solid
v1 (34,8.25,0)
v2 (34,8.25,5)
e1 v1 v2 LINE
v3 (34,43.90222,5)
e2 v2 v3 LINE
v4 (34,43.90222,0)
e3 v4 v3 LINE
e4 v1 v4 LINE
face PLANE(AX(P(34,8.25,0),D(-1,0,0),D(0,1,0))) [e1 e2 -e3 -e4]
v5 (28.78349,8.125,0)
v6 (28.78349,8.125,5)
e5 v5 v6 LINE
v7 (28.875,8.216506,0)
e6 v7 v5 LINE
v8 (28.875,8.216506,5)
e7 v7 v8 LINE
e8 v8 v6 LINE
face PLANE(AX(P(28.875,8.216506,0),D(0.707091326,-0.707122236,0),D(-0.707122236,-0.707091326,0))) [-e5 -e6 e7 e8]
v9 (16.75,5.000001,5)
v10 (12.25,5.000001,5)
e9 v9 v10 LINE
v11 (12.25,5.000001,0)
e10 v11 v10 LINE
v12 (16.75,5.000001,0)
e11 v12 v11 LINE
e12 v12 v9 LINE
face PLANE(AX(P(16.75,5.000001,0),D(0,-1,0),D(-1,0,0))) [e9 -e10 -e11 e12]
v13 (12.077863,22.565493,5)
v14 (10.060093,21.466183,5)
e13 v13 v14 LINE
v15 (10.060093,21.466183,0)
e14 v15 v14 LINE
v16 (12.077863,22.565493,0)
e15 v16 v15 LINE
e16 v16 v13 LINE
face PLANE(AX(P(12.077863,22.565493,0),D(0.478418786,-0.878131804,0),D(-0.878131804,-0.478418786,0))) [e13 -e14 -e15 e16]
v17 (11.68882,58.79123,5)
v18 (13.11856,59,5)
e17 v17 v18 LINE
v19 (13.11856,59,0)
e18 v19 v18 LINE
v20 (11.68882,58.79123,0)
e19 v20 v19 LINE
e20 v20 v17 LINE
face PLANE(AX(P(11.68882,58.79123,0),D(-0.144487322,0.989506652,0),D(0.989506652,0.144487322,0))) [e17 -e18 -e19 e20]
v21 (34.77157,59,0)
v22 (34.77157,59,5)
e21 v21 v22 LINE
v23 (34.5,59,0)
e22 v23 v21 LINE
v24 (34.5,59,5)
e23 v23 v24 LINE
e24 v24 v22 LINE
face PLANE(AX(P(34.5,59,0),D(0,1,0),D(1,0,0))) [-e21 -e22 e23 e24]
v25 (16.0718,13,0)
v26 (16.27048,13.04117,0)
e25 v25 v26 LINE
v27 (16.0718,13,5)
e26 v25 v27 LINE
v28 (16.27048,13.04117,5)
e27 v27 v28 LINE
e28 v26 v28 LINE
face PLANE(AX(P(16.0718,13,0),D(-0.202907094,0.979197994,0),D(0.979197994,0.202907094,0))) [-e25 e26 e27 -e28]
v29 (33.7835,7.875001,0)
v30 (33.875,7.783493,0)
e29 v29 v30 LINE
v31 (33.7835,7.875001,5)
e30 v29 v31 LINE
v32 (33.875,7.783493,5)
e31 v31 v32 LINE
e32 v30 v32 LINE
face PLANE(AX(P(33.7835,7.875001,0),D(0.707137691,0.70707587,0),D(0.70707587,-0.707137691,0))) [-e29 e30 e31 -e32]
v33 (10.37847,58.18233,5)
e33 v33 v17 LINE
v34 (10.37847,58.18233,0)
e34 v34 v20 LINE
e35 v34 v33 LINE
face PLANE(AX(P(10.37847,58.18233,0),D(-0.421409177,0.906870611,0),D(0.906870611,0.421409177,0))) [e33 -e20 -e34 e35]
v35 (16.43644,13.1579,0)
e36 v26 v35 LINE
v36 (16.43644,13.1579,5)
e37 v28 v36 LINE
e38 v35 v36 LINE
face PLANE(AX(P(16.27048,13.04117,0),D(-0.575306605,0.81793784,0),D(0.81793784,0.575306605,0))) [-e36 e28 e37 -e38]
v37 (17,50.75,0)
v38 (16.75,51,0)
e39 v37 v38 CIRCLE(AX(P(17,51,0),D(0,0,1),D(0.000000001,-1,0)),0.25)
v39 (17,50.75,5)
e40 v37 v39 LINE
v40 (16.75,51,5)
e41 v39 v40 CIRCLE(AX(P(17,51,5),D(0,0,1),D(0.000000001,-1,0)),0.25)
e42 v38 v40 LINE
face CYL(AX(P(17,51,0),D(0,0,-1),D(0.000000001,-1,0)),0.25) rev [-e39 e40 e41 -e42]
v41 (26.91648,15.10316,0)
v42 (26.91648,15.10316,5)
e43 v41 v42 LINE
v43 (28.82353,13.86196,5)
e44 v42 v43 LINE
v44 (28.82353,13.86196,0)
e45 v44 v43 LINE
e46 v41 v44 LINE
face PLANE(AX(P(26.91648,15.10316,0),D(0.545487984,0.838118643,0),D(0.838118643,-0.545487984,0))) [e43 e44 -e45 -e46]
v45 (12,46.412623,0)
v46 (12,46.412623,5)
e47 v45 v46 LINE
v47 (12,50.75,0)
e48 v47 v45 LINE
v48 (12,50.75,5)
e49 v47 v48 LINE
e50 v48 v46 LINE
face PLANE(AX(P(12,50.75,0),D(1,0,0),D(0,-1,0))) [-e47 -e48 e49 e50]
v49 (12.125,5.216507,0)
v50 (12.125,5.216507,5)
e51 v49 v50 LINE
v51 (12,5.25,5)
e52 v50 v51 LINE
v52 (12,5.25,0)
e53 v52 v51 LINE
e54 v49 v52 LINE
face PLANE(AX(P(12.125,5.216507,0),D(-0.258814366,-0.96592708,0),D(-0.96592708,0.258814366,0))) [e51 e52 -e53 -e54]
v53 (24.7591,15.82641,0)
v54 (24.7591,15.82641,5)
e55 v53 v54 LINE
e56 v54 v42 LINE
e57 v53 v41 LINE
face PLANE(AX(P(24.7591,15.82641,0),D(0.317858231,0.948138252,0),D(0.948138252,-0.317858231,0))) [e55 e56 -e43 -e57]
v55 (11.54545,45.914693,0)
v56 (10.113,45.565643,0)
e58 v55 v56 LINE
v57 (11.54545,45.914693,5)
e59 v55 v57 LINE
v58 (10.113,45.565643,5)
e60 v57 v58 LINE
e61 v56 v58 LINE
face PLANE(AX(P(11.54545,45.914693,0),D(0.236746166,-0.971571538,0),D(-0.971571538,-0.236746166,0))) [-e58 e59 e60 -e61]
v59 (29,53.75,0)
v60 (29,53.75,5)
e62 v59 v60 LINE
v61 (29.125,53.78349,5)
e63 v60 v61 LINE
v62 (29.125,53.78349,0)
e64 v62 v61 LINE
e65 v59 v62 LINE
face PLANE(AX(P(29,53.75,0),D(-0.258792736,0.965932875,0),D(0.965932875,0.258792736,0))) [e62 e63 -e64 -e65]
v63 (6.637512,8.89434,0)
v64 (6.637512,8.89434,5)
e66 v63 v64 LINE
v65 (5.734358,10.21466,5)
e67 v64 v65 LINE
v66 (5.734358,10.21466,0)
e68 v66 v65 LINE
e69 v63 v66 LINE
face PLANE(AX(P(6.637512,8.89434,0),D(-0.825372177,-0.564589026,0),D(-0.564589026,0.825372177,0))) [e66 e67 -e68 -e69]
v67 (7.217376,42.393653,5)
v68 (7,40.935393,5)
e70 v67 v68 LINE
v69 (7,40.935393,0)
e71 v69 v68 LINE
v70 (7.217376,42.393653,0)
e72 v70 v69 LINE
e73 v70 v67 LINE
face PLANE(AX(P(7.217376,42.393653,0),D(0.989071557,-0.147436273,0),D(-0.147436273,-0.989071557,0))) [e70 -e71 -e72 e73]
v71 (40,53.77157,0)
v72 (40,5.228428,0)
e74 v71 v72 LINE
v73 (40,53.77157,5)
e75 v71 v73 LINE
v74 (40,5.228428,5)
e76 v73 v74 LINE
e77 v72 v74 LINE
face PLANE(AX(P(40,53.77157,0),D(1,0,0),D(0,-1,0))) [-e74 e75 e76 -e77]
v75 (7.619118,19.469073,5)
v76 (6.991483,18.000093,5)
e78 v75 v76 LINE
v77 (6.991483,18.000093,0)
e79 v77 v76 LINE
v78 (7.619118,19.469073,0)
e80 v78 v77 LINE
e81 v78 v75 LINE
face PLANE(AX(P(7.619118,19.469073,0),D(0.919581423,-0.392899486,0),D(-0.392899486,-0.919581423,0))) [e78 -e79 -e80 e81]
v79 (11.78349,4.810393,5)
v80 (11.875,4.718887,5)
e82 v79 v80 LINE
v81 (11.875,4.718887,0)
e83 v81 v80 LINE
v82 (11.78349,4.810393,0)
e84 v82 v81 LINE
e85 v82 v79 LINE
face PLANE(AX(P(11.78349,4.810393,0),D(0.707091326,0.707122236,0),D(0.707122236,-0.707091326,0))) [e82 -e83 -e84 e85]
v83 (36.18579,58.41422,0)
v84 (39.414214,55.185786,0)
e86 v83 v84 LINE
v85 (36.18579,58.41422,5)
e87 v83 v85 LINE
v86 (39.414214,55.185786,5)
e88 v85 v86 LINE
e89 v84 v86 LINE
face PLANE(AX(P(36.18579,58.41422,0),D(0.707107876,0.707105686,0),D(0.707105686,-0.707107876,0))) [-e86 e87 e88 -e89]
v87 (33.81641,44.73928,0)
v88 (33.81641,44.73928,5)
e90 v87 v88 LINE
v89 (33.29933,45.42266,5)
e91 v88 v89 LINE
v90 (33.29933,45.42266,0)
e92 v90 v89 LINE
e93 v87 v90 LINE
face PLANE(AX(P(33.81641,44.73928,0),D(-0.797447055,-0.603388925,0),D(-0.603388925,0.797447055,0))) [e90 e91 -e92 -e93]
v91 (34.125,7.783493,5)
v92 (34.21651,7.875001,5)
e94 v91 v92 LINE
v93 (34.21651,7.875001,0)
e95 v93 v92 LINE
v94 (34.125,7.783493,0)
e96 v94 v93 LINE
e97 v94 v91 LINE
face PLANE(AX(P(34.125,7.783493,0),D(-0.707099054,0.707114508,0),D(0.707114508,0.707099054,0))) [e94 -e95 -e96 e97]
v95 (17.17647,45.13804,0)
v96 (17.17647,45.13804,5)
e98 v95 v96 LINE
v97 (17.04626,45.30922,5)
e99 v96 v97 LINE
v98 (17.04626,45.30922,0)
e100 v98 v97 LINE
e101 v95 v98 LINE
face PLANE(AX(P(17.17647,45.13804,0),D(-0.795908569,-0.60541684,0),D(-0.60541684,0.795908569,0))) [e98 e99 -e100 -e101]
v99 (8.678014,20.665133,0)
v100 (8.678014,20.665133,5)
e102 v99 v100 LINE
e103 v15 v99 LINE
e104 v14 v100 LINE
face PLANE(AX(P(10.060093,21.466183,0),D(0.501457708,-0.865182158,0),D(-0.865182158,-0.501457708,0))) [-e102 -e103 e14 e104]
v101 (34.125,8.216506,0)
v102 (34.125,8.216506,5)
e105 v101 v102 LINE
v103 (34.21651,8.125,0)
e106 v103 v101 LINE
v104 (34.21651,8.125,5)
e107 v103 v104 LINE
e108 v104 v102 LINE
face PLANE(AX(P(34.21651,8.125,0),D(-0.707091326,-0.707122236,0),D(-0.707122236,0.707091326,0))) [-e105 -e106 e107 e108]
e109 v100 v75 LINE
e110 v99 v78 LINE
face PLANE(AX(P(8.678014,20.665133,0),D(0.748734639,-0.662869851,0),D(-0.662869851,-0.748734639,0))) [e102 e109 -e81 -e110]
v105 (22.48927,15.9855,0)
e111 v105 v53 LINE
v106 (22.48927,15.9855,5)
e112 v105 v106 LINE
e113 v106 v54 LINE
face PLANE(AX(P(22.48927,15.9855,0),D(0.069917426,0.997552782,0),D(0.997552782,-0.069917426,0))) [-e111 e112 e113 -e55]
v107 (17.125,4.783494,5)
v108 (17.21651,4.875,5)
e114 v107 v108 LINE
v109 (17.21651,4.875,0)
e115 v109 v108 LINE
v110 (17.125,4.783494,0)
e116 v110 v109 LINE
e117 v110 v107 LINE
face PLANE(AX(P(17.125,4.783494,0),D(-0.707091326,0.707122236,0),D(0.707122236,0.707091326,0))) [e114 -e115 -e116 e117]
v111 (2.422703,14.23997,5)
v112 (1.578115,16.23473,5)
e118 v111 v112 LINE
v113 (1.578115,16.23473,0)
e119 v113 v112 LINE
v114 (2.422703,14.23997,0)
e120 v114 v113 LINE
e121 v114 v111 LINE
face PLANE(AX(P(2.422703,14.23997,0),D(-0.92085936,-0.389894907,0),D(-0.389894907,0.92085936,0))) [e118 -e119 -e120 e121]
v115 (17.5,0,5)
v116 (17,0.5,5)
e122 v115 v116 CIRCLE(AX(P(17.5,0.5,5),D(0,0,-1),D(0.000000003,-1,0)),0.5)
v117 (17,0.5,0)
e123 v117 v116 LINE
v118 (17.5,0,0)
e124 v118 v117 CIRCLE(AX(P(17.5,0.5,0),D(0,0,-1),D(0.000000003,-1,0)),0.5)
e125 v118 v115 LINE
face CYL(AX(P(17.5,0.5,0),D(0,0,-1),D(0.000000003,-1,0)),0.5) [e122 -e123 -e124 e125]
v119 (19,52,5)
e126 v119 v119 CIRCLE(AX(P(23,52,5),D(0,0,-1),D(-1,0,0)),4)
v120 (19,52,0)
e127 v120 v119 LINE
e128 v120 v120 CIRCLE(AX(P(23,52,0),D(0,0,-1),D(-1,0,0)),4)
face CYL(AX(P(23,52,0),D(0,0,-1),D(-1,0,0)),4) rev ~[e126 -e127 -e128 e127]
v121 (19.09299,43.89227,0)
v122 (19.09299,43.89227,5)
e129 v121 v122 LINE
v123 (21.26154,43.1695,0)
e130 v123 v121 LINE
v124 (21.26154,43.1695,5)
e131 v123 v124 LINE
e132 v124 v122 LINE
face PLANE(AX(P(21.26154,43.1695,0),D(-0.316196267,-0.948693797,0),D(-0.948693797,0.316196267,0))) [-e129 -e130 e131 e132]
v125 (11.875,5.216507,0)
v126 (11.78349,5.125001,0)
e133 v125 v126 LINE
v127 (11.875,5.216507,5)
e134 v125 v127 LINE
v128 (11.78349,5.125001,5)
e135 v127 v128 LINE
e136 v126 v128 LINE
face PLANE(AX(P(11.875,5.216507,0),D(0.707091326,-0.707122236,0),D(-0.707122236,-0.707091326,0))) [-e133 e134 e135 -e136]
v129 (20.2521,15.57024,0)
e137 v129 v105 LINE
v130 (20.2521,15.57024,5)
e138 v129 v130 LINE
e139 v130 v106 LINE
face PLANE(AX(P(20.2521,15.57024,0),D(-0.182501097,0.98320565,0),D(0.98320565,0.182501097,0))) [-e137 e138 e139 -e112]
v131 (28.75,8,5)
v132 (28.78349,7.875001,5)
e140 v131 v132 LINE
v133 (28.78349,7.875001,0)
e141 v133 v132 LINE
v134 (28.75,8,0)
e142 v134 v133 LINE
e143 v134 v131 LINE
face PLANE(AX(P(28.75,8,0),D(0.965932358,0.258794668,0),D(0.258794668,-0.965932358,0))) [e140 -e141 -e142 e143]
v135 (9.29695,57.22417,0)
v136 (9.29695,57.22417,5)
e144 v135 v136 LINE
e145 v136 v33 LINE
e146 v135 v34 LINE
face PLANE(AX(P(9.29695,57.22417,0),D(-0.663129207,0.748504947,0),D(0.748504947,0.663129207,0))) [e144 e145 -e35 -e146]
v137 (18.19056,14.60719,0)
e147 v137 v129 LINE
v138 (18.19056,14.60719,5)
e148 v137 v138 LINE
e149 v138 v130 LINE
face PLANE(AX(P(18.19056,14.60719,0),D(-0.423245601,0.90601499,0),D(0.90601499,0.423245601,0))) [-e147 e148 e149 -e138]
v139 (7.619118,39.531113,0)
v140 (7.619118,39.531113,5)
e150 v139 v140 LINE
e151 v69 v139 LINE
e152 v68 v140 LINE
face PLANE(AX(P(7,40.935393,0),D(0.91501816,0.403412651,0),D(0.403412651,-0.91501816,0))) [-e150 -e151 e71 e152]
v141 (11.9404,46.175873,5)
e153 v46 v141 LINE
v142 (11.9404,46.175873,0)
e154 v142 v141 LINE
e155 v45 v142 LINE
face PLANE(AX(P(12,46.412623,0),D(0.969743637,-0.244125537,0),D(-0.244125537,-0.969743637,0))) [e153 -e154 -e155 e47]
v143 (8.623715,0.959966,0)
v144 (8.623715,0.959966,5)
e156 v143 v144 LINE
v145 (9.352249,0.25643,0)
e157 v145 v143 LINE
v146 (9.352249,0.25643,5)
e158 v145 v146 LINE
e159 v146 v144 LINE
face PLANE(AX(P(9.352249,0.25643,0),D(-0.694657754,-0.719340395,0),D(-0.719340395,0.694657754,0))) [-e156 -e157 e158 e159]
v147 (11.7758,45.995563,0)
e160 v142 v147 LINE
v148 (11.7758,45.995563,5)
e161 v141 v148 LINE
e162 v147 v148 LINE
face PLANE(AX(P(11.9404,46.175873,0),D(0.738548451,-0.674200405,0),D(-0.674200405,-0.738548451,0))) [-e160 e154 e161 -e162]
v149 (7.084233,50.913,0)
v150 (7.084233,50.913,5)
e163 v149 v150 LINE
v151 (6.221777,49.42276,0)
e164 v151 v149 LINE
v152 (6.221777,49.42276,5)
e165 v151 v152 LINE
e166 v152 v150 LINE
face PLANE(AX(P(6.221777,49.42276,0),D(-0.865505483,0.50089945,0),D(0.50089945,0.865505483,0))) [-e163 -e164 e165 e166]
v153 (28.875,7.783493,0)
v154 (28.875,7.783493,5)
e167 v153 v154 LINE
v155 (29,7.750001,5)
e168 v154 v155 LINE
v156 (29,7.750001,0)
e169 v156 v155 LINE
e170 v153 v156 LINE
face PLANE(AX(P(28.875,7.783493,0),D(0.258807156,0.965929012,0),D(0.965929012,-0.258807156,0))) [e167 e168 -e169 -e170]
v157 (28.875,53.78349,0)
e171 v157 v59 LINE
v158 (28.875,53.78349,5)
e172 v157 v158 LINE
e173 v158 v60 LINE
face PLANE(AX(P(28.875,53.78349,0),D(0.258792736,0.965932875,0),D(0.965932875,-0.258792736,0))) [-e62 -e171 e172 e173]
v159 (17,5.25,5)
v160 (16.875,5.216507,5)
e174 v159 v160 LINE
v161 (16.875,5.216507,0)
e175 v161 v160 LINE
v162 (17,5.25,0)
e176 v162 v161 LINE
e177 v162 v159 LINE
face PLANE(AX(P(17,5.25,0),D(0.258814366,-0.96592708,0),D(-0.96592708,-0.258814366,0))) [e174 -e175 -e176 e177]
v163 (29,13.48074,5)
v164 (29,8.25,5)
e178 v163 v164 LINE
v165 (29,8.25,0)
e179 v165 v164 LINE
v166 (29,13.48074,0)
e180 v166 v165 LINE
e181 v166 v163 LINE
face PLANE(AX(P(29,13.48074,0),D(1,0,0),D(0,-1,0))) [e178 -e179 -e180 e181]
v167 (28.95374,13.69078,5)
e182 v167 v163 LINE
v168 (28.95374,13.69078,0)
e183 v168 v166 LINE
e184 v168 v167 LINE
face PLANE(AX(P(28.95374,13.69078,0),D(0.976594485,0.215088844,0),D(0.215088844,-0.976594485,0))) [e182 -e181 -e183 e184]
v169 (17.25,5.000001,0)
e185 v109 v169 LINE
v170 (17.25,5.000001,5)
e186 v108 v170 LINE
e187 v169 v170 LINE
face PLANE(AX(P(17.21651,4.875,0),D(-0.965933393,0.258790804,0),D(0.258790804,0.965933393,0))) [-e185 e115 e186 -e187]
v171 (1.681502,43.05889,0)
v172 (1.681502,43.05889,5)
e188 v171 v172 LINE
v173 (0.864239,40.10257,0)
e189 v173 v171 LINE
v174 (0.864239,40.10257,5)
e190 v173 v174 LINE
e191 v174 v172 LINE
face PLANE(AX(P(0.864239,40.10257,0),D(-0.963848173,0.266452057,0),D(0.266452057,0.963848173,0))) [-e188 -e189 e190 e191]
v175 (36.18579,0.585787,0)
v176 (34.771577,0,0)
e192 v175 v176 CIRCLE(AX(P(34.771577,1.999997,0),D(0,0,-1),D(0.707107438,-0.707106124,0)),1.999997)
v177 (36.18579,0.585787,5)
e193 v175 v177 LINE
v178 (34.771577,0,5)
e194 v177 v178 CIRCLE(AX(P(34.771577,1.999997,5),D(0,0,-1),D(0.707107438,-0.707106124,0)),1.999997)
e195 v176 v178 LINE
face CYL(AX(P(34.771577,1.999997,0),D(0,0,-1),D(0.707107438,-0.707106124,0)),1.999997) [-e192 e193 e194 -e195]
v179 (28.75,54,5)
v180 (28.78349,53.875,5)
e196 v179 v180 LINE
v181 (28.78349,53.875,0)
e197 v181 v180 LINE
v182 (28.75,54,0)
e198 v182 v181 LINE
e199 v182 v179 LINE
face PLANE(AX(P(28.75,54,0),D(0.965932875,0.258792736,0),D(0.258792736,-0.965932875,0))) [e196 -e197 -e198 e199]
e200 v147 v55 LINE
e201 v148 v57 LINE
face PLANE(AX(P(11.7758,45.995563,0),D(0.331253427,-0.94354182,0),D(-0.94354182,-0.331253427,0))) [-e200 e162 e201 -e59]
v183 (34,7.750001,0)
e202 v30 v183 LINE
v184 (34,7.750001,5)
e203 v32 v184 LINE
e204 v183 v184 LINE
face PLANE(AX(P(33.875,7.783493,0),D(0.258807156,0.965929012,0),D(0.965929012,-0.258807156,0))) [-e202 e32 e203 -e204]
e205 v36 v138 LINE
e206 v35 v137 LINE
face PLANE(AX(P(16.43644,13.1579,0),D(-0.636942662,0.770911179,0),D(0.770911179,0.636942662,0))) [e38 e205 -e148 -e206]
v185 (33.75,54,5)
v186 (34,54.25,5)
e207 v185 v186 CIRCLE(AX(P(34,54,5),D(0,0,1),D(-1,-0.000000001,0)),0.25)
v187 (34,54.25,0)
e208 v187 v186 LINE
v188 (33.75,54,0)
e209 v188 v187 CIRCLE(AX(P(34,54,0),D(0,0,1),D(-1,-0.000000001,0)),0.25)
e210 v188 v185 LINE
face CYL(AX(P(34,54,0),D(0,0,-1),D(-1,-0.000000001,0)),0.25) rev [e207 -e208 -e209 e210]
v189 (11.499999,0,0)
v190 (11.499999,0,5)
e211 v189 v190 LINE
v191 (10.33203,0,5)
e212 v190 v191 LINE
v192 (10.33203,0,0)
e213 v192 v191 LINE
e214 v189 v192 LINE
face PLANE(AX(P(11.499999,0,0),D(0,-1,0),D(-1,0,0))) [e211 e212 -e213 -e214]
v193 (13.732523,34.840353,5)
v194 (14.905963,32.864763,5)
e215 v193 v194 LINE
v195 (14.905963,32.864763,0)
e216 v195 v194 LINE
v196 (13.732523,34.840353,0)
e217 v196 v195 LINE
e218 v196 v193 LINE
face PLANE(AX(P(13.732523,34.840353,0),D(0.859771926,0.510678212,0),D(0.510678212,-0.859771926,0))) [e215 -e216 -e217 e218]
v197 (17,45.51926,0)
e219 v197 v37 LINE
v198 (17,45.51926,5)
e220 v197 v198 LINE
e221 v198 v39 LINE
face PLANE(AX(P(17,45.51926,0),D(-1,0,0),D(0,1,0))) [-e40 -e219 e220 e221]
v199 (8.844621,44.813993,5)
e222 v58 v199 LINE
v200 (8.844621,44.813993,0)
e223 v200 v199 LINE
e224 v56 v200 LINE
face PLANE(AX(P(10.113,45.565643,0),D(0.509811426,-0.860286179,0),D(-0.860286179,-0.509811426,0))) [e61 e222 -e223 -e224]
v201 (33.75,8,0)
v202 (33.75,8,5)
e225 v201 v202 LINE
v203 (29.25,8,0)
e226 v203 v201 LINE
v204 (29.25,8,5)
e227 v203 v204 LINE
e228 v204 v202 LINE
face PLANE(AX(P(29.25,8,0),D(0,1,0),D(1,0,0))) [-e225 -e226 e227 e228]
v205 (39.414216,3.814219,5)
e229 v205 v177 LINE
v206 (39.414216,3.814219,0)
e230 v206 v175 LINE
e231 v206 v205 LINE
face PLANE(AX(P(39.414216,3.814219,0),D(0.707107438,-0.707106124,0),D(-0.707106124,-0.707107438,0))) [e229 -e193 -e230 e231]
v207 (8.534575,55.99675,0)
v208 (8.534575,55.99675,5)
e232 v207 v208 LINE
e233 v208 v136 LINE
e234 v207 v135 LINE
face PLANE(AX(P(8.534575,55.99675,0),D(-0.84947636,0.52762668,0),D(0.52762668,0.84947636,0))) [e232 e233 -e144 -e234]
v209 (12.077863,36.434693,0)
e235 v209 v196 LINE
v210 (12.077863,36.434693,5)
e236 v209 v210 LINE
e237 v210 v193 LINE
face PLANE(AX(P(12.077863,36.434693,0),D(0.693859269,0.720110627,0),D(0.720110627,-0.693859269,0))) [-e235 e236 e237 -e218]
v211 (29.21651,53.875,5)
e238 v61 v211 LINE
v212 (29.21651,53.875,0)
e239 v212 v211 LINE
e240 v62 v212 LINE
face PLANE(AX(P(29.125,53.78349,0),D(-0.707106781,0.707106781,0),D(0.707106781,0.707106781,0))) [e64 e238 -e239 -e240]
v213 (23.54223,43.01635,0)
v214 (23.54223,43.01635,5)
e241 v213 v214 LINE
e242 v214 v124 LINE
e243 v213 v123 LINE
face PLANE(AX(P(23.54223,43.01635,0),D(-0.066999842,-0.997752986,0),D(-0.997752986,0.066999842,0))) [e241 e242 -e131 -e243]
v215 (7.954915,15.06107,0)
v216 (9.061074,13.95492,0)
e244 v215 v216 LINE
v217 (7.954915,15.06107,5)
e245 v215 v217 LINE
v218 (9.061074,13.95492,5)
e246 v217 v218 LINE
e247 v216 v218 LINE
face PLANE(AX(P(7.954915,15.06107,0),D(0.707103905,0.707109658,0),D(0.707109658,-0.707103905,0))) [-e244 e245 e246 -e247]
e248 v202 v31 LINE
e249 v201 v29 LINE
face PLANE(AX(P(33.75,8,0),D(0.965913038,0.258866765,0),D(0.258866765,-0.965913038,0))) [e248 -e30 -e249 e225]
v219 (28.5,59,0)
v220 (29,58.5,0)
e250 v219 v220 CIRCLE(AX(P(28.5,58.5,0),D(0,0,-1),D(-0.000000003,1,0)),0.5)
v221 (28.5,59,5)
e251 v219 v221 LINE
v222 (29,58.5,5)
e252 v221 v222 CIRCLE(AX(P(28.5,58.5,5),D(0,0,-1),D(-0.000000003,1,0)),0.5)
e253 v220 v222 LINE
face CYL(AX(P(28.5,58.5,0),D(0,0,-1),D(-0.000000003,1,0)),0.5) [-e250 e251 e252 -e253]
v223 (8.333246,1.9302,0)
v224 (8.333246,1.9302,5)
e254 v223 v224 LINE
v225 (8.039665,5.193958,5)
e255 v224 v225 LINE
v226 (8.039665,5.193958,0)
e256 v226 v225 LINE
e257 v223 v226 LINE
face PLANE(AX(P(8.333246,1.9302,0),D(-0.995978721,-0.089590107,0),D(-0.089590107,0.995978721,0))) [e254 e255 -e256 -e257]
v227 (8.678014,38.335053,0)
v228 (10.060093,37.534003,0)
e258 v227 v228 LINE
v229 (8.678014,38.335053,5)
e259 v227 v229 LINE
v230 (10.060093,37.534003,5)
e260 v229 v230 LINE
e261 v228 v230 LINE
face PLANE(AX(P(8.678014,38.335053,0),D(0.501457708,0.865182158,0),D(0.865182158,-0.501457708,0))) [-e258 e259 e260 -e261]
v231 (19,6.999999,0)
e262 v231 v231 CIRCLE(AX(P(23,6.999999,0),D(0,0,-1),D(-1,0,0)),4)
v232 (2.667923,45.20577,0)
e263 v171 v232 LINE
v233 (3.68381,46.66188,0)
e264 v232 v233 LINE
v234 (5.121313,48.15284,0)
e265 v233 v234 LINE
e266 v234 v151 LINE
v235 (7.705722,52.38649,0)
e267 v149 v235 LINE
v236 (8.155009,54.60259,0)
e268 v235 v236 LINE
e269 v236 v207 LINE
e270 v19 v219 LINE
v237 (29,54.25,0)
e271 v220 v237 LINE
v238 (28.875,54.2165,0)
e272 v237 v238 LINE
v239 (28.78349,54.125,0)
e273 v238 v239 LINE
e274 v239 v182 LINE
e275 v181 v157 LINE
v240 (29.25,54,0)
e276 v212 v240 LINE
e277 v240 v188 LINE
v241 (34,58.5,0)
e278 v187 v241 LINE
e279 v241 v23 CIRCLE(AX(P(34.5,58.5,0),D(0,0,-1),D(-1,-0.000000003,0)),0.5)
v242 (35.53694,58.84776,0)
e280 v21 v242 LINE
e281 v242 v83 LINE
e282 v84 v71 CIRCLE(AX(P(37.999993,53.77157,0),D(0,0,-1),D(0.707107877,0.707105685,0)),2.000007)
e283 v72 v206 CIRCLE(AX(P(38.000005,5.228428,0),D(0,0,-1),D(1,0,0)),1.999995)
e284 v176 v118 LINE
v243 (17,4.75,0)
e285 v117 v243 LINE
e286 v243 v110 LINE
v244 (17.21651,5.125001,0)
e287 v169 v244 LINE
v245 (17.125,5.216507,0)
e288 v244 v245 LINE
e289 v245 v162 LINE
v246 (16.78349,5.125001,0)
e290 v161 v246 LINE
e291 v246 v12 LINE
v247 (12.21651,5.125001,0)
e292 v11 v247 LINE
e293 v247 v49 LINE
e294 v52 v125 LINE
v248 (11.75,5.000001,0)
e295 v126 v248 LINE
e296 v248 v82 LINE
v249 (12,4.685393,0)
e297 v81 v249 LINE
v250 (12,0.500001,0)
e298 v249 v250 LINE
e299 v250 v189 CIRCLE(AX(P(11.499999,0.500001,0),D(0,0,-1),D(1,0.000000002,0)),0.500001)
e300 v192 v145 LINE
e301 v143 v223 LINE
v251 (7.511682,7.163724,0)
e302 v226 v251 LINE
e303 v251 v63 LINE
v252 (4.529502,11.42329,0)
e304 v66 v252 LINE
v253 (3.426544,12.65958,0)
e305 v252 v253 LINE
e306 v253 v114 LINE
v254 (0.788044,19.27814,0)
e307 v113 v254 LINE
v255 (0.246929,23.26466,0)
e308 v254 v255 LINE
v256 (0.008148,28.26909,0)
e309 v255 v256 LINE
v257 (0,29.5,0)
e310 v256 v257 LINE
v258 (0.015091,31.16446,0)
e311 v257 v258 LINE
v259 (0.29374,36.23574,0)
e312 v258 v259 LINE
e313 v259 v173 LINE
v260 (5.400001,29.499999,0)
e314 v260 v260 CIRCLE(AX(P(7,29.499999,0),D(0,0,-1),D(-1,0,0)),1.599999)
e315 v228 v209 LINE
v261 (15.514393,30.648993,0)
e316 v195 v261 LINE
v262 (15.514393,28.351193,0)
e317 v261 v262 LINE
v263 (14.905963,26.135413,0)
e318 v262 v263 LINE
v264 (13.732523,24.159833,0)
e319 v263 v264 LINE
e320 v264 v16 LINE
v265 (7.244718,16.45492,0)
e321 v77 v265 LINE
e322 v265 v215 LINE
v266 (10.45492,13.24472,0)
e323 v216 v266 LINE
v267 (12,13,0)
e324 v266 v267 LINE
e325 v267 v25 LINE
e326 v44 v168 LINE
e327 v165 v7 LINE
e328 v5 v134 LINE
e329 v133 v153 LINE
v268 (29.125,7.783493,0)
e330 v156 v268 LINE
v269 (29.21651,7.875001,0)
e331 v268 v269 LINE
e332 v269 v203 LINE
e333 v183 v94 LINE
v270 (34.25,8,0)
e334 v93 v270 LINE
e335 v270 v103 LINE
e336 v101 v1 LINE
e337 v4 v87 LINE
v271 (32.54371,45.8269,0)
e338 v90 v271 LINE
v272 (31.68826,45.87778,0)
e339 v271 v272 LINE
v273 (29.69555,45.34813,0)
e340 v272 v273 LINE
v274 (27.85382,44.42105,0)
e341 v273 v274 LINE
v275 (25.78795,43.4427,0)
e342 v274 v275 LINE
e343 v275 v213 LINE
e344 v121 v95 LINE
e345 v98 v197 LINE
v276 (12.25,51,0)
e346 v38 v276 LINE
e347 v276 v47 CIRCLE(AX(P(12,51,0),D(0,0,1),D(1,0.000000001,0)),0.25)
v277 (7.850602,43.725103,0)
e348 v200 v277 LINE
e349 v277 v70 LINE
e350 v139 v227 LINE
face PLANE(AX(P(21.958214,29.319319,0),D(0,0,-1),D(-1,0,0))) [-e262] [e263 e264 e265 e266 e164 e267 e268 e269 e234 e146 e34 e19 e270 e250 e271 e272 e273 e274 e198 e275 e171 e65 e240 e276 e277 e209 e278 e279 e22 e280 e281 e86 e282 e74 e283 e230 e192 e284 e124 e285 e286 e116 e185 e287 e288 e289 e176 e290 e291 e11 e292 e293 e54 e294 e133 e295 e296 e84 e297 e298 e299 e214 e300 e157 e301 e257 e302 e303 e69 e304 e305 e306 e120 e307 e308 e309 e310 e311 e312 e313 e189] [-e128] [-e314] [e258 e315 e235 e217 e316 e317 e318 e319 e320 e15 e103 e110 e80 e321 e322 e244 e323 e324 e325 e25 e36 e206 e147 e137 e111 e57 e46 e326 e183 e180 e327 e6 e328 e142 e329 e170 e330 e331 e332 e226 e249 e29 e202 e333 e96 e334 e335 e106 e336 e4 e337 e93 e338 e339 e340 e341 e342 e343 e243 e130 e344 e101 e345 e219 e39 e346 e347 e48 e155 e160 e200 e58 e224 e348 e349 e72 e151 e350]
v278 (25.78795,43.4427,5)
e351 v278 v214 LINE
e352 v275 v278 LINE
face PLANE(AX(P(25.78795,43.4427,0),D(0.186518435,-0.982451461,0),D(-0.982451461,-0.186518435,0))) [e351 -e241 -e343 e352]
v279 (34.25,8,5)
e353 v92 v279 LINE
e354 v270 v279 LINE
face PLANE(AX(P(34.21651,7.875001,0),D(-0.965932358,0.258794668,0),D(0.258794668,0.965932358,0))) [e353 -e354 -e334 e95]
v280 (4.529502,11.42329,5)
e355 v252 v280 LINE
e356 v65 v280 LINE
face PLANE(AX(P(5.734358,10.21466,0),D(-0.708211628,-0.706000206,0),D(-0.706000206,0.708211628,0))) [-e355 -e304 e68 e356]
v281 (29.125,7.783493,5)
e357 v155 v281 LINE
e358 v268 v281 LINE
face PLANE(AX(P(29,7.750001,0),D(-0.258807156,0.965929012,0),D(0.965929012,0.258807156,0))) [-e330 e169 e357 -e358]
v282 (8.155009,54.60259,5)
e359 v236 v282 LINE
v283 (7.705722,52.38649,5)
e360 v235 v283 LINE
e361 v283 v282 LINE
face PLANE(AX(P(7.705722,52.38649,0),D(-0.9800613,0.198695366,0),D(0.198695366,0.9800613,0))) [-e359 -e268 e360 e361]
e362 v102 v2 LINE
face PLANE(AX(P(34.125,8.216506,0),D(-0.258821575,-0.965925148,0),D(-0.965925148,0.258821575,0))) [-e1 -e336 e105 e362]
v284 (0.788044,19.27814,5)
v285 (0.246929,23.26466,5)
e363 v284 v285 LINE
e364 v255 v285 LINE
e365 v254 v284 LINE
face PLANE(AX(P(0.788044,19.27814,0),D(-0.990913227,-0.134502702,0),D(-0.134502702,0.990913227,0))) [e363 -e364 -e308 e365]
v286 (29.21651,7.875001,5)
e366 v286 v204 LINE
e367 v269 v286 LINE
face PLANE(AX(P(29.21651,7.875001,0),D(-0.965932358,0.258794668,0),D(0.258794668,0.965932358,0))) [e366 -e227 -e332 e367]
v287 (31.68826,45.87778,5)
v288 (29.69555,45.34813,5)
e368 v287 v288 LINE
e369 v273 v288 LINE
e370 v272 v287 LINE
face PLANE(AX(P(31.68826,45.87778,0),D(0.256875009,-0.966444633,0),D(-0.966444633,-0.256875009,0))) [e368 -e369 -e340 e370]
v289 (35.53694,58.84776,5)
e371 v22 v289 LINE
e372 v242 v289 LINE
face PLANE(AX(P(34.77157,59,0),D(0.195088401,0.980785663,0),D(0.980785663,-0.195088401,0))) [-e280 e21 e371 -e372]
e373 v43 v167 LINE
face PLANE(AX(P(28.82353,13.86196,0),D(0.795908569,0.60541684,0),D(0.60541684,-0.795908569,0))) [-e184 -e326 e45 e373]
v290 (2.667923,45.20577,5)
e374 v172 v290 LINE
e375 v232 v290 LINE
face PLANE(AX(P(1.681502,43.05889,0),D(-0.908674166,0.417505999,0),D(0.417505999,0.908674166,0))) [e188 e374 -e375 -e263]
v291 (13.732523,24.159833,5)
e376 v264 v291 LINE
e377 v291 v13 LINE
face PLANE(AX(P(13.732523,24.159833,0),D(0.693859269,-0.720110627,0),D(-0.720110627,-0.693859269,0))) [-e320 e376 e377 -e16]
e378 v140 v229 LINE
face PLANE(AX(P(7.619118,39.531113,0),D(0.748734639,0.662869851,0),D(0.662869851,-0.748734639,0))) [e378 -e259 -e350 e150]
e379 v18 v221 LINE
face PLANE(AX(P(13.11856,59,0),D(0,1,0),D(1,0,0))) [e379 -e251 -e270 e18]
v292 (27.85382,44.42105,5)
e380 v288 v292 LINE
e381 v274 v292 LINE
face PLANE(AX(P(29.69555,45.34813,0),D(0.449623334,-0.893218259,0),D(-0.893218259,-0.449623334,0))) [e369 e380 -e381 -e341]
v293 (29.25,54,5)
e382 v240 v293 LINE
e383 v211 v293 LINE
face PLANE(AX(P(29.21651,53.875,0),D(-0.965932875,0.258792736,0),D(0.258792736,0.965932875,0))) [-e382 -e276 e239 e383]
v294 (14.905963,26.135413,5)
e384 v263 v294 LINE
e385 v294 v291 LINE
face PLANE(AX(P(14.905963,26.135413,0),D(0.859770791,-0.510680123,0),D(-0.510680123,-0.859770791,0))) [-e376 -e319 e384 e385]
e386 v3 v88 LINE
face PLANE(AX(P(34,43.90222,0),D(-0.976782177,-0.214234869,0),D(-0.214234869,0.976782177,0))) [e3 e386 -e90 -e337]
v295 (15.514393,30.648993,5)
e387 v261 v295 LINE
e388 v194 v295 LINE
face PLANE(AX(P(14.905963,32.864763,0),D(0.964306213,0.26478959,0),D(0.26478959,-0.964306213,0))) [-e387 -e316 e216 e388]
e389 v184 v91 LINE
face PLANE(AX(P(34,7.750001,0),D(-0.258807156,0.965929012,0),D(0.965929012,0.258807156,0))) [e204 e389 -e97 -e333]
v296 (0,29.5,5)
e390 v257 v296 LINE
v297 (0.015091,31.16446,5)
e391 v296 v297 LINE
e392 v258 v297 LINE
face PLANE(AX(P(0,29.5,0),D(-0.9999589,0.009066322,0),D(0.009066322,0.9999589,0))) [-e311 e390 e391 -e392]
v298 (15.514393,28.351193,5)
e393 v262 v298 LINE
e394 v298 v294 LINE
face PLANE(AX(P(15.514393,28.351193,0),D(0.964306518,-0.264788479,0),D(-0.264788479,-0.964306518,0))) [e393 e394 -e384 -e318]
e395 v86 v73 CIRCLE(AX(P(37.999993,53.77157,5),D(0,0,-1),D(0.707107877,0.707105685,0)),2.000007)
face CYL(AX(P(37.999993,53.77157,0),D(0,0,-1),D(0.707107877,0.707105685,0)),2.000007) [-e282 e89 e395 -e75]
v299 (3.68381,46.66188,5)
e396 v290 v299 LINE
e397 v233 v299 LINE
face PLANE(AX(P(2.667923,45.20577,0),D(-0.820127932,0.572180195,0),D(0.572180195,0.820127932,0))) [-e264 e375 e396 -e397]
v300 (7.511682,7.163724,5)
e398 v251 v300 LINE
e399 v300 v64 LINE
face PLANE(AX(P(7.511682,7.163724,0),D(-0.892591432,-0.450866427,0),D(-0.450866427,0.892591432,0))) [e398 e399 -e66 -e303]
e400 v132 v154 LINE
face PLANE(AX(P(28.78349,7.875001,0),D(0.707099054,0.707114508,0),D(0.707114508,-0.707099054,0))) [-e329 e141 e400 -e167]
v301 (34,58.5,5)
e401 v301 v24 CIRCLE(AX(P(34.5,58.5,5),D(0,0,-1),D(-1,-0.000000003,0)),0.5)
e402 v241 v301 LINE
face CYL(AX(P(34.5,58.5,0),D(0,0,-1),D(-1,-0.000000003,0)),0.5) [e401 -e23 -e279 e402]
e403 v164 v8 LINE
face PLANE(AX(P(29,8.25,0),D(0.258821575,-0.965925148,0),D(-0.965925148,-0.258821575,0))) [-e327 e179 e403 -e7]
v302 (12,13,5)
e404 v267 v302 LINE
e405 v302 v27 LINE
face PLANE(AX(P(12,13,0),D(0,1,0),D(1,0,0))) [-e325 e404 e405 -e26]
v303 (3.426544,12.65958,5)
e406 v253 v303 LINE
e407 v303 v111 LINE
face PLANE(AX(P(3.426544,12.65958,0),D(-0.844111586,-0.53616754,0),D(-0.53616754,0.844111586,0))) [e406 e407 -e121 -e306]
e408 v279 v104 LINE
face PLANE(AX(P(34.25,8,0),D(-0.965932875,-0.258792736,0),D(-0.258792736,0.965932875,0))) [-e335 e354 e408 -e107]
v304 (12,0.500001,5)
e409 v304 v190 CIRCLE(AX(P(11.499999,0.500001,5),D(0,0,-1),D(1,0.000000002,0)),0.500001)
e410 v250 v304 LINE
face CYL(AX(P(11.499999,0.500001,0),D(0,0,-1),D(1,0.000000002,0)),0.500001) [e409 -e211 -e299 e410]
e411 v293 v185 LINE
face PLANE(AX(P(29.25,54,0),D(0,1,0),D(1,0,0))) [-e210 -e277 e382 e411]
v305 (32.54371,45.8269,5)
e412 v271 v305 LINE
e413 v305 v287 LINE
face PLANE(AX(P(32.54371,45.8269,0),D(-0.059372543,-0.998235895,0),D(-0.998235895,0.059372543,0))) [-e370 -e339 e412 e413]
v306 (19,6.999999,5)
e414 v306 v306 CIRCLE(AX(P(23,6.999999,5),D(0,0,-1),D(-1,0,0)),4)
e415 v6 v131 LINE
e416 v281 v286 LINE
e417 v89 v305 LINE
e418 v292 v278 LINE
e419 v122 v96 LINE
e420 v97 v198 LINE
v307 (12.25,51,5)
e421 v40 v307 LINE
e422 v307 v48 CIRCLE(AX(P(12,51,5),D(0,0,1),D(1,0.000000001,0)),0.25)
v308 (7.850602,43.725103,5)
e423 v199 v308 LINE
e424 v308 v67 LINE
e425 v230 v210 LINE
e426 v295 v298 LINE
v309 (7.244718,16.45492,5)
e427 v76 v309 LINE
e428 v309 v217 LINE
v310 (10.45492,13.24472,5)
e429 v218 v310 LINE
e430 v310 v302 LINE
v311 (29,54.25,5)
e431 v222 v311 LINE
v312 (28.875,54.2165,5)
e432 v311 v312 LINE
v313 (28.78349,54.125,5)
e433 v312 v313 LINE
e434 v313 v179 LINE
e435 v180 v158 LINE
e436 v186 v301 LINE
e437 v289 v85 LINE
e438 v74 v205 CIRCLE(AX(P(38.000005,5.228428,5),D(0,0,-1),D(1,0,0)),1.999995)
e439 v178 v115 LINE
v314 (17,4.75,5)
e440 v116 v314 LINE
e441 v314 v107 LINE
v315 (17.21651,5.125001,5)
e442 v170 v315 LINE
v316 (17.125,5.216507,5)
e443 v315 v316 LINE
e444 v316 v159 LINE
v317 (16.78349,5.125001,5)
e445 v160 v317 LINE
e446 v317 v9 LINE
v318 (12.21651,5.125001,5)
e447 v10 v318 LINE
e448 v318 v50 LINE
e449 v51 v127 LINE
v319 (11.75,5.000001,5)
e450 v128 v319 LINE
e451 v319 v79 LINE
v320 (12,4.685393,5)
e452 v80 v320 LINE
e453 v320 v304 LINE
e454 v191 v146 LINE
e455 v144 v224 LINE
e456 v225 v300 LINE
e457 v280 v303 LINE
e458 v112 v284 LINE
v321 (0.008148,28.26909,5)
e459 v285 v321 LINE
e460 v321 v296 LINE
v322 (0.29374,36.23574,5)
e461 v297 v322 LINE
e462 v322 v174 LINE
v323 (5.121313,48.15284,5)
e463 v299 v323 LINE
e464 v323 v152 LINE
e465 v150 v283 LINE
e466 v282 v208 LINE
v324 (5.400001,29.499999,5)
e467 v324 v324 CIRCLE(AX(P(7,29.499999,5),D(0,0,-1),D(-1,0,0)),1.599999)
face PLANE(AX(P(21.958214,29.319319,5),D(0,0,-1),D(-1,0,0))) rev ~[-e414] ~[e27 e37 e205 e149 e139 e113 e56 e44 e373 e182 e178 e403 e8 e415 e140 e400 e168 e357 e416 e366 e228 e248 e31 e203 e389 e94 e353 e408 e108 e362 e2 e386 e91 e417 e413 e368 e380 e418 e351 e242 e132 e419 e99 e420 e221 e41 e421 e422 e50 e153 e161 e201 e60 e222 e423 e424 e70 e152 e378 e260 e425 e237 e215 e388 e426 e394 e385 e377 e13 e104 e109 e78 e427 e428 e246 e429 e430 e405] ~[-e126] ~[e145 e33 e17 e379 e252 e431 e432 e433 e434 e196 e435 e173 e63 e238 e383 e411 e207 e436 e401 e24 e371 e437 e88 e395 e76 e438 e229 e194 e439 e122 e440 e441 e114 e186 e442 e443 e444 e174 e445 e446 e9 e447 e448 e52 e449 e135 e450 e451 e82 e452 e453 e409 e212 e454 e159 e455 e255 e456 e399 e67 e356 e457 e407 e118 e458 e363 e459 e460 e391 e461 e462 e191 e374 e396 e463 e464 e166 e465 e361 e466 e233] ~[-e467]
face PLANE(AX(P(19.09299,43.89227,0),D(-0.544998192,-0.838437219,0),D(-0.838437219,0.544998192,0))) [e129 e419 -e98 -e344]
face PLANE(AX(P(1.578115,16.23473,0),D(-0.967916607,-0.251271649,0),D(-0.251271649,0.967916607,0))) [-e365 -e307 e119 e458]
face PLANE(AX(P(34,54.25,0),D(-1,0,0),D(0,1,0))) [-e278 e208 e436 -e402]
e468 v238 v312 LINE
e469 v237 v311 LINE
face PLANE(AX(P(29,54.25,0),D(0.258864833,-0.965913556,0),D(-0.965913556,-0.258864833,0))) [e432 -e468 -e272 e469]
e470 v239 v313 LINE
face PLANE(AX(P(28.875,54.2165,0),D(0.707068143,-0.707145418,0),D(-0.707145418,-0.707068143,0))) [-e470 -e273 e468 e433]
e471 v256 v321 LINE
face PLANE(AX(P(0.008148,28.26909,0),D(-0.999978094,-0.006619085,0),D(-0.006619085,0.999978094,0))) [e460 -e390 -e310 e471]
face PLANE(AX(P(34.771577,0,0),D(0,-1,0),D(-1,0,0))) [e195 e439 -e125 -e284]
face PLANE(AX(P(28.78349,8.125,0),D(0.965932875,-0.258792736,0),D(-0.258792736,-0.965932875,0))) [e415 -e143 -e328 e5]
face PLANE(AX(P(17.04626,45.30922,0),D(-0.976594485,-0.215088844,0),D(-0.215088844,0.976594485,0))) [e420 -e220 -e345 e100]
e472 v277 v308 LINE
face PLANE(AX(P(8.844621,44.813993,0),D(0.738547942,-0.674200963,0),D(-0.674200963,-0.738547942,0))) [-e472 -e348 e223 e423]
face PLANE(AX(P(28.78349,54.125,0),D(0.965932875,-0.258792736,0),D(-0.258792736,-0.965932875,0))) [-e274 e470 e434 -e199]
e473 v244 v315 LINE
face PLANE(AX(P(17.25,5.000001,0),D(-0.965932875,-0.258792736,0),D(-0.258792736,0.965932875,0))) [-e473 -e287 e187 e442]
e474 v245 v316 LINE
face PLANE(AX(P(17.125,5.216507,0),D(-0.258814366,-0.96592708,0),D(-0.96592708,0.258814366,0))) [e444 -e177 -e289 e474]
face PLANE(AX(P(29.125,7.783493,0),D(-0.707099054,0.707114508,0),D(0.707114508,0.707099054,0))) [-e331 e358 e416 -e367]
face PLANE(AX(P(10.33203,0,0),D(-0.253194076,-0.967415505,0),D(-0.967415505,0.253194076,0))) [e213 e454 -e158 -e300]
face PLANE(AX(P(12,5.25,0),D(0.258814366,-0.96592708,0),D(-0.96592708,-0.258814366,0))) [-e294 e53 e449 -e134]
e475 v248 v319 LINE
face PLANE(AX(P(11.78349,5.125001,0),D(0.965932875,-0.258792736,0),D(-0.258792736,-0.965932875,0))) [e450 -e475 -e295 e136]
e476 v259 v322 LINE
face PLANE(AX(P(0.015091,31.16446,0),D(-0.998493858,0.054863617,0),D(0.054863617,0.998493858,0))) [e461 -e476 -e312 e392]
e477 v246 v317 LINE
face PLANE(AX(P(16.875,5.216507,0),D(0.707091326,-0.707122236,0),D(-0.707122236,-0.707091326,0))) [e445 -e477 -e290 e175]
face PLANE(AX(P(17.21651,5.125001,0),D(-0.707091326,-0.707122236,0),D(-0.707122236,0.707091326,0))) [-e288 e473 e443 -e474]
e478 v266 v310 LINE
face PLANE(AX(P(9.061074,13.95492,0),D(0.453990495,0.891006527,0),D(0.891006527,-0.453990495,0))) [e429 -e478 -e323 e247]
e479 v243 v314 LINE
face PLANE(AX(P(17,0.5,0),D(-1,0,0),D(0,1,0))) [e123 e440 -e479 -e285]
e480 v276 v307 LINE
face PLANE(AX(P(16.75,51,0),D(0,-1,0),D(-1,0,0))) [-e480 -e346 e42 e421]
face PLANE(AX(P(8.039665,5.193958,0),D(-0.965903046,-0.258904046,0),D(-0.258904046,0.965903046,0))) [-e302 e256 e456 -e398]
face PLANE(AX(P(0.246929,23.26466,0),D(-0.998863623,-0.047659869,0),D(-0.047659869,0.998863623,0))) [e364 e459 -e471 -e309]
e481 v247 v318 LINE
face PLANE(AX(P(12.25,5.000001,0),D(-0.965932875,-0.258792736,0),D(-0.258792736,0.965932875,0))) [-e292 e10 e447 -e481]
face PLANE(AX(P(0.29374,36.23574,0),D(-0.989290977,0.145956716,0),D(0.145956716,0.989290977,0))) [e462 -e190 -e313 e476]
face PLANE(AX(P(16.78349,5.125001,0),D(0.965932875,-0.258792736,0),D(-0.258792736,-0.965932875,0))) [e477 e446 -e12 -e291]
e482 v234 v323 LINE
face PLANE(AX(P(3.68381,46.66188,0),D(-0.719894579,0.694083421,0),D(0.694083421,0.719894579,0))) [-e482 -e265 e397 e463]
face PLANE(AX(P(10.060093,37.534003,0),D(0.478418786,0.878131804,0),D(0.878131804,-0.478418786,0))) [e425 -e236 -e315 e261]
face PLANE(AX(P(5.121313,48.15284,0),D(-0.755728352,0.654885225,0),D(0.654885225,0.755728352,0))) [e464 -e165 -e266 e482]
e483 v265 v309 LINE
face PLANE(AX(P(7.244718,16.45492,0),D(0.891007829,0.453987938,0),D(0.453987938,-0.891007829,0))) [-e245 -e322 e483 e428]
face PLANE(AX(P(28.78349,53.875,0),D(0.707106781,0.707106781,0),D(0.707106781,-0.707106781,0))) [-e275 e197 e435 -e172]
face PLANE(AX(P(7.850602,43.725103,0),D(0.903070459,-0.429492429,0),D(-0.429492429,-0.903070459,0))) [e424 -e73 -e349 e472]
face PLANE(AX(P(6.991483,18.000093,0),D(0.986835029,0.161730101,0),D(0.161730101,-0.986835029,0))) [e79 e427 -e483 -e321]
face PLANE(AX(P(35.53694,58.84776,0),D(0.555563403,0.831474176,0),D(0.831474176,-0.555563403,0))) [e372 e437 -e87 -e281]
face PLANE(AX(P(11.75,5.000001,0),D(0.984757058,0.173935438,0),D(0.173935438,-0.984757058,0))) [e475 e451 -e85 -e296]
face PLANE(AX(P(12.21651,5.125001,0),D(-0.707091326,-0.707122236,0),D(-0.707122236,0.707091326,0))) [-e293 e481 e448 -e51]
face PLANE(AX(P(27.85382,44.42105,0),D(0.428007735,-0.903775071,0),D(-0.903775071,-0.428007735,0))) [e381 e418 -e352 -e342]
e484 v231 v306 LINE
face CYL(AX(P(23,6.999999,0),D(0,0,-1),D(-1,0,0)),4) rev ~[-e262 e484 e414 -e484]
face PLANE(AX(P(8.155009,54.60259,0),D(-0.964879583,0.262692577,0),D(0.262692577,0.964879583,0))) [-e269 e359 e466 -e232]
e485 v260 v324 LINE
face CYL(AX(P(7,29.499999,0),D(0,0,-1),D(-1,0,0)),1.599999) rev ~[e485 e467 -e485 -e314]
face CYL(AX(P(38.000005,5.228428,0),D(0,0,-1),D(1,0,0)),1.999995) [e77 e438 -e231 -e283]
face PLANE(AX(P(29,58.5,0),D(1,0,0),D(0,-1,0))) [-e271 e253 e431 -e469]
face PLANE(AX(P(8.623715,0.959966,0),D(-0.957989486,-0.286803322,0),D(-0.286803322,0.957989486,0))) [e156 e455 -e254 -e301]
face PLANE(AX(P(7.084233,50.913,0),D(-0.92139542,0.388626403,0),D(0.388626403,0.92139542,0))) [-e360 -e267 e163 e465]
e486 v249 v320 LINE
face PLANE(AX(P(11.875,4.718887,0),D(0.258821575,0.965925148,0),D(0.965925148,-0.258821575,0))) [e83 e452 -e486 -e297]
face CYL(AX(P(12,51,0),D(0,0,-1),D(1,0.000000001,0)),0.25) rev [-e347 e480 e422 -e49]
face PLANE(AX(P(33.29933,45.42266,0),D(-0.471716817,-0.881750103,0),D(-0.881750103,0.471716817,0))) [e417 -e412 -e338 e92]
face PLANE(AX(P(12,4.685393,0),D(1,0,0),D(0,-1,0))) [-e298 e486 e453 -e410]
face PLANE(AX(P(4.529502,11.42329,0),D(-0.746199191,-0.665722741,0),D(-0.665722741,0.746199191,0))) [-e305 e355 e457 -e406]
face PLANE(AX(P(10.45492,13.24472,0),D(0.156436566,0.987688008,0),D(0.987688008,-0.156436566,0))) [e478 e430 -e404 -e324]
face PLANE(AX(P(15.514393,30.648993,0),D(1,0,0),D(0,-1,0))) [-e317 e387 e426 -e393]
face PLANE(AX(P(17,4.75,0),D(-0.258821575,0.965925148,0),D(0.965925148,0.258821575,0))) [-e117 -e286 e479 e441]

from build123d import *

# Parameters (mm, degrees)
ESQUISSE1_R        = 4
ESQUISSE1_R_2      = 1.59999944
BOSS_EXTRU_1_DEPTH = 5


with BuildPart() as part:
    # Esquisse1 → Boss.-Extru.1 (new body)
    with BuildSketch(Plane(origin=(0, 0, 0), x_dir=(-1, 0, 0), z_dir=(0, 0, -1))):
        with BuildLine():
            Line((-8.039665, 5.193958), (-7.511682, 7.163724))
            Line((-7.511682, 7.163724), (-6.637512, 8.89434))
            Line((-6.637512, 8.89434), (-5.734358, 10.21466))
            Line((-5.734358, 10.21466), (-4.529502, 11.42329))
            Line((-4.529502, 11.42329), (-3.426544, 12.65958))
            Line((-3.426544, 12.65958), (-2.422703, 14.23997))
            Line((-2.422703, 14.23997), (-1.578115, 16.23473))
            Line((-1.578115, 16.23473), (-0.7880442, 19.27814))
            Line((-0.7880442, 19.27814), (-0.2469295, 23.26466))
            Line((-0.2469295, 23.26466), (-0.008147676, 28.26909))
            Line((-0.008147676, 28.26909), (0, 29.5))
            Line((0, 29.5), (-0.01509115, 31.16446))
            Line((-0.01509115, 31.16446), (-0.2937396, 36.23574))
            Line((-0.2937396, 36.23574), (-0.8642389, 40.10257))
            Line((-0.8642389, 40.10257), (-1.681502, 43.05889))
            Line((-1.681502, 43.05889), (-2.667923, 45.20577))
            Line((-2.667923, 45.20577), (-3.68381, 46.66188))
            Line((-3.68381, 46.66188), (-5.121313, 48.15284))
            Line((-5.121313, 48.15284), (-6.221777, 49.42276))
            Line((-6.221777, 49.42276), (-7.084233, 50.913))
            Line((-7.084233, 50.913), (-7.705722, 52.38649))
            Line((-7.705722, 52.38649), (-8.155009, 54.60259))
            Line((-8.155009, 54.60259), (-8.534575, 55.99675))
            Line((-8.534575, 55.99675), (-9.29695, 57.22417))
            Line((-9.29695, 57.22417), (-10.37847, 58.18233))
            Line((-10.37847, 58.18233), (-11.68882, 58.79123))
            Line((-11.68882, 58.79123), (-13.11856, 59))
            Line((-13.11856, 59), (-28.5, 59))
            ThreePointArc((-28.5, 59), (-28.853553391, 58.853553391), (-29, 58.5))
            Line((-29, 58.5), (-29, 54.25))
            Line((-29, 54.25), (-28.875, 54.2165))
            Line((-28.875, 54.2165), (-28.78349, 54.125))
            Line((-28.78349, 54.125), (-28.75, 54))
            Line((-28.75, 54), (-28.78349, 53.875))
            Line((-28.78349, 53.875), (-28.875, 53.78349))
            Line((-28.875, 53.78349), (-29, 53.75))
            Line((-29, 53.75), (-29.125, 53.78349))
            Line((-29.125, 53.78349), (-29.21651, 53.875))
            Line((-29.21651, 53.875), (-29.25, 54))
            Line((-29.25, 54), (-33.75, 54))
            ThreePointArc((-33.75, 54), (-34.176776695, 53.823223305), (-34, 54.25))
            Line((-34, 54.25), (-34, 58.5))
            ThreePointArc((-34, 58.5), (-34.146446609, 58.853553391), (-34.5, 59))
            Line((-34.5, 59), (-34.77157, 59))
            Line((-34.77157, 59), (-35.53694, 58.84776))
            Line((-35.53694, 58.84776), (-36.18579, 58.41422))
            Line((-36.18579, 58.41422), (-39.41421372, 55.18578628))
            ThreePointArc((-39.41421372, 55.18578628), (-39.847759129, 54.53693809), (-40, 53.77157))
            Line((-40, 53.77157), (-40, 5.228428))
            ThreePointArc((-40, 5.228428), (-39.847759811, 4.463063957), (-39.414216379, 3.814219379))
            Line((-39.414216379, 3.814219379), (-36.18579, 0.585787))
            ThreePointArc((-36.18579, 0.585787), (-35.536943679, 0.152241095), (-34.771576938, 0))
            Line((-34.771576938, 0), (-17.5, 0))
            ThreePointArc((-17.5, 0), (-17.146446609, 0.146446609), (-17, 0.5))
            Line((-17, 0.5), (-17, 4.75))
            Line((-17, 4.75), (-17.125, 4.783494))
            Line((-17.125, 4.783494), (-17.21651, 4.875))
            Line((-17.21651, 4.875), (-17.25, 5.000001))
            Line((-17.25, 5.000001), (-17.21651, 5.125001))
            Line((-17.21651, 5.125001), (-17.125, 5.216507))
            Line((-17.125, 5.216507), (-17, 5.25))
            Line((-17, 5.25), (-16.875, 5.216507))
            Line((-16.875, 5.216507), (-16.78349, 5.125001))
            Line((-16.78349, 5.125001), (-16.75, 5.000001))
            Line((-16.75, 5.000001), (-12.25, 5.000001))
            Line((-12.25, 5.000001), (-12.21651, 5.125001))
            Line((-12.21651, 5.125001), (-12.125, 5.216507))
            Line((-12.125, 5.216507), (-12, 5.25))
            Line((-12, 5.25), (-11.875, 5.216507))
            Line((-11.875, 5.216507), (-11.78349, 5.125001))
            Line((-11.78349, 5.125001), (-11.75, 5.000001))
            Line((-11.75, 5.000001), (-11.78349, 4.810393211))
            Line((-11.78349, 4.810393211), (-11.875, 4.718887211))
            Line((-11.875, 4.718887211), (-12, 4.685393211))
            Line((-12, 4.685393211), (-12, 0.500001))
            ThreePointArc((-12, 0.500001), (-11.853553098, 0.146446902), (-11.499999, 0))
            Line((-11.499999, 0), (-10.33203, 0))
            Line((-10.33203, 0), (-9.352249, 0.2564304))
            Line((-9.352249, 0.2564304), (-8.623715, 0.9599663))
            Line((-8.623715, 0.9599663), (-8.333246, 1.9302))
            Line((-8.333246, 1.9302), (-8.039665, 5.193958))
        make_face()
        with Locations((-23, 52)):
            Circle(ESQUISSE1_R, mode=Mode.SUBTRACT)
        with Locations((-23, 6.999999)):
            Circle(ESQUISSE1_R, mode=Mode.SUBTRACT)
        with Locations((-7, 29.499999)):
            Circle(ESQUISSE1_R_2, mode=Mode.SUBTRACT)
        with BuildLine():
            Line((-27.85382, 44.42105), (-25.78795, 43.4427))
            Line((-25.78795, 43.4427), (-23.54223, 43.01635))
            Line((-23.54223, 43.01635), (-21.26154, 43.1695))
            Line((-21.26154, 43.1695), (-19.09299, 43.89227))
            Line((-19.09299, 43.89227), (-17.17647, 45.13804))
            Line((-17.17647, 45.13804), (-17.04626, 45.30922))
            Line((-17.04626, 45.30922), (-17, 45.51926))
            Line((-17, 45.51926), (-17, 50.75))
            ThreePointArc((-17, 50.75), (-17.176776695, 51.176776695), (-16.75, 51))
            Line((-16.75, 51), (-12.25, 51))
            ThreePointArc((-12.25, 51), (-11.823223305, 51.176776695), (-12, 50.75))
            Line((-12, 50.75), (-12, 46.412623211))
            Line((-12, 46.412623211), (-11.9404, 46.175873211))
            Line((-11.9404, 46.175873211), (-11.7758, 45.995563211))
            Line((-11.7758, 45.995563211), (-11.54545, 45.914693211))
            Line((-11.54545, 45.914693211), (-10.113, 45.565643211))
            Line((-10.113, 45.565643211), (-8.844621, 44.813993211))
            Line((-8.844621, 44.813993211), (-7.850602, 43.725103211))
            Line((-7.850602, 43.725103211), (-7.217376, 42.393653211))
            Line((-7.217376, 42.393653211), (-7, 40.935393211))
            Line((-7, 40.935393211), (-7.619118173, 39.531113076))
            Line((-7.619118173, 39.531113076), (-8.678014173, 38.335053076))
            Line((-8.678014173, 38.335053076), (-10.060093173, 37.534003076))
            Line((-10.060093173, 37.534003076), (-12.077863173, 36.434693076))
            Line((-12.077863173, 36.434693076), (-13.732523173, 34.840353076))
            Line((-13.732523173, 34.840353076), (-14.905963173, 32.864763076))
            Line((-14.905963173, 32.864763076), (-15.514393173, 30.648993076))
            Line((-15.514393173, 30.648993076), (-15.514393173, 28.351193076))
            Line((-15.514393173, 28.351193076), (-14.905963173, 26.135413076))
            Line((-14.905963173, 26.135413076), (-13.732523173, 24.159833076))
            Line((-13.732523173, 24.159833076), (-12.077863173, 22.565493076))
            Line((-12.077863173, 22.565493076), (-10.060093173, 21.466183076))
            Line((-10.060093173, 21.466183076), (-8.678014173, 20.665133076))
            Line((-8.678014173, 20.665133076), (-7.619118173, 19.469073076))
            Line((-7.619118173, 19.469073076), (-6.991483173, 18.000093076))
            Line((-6.991483173, 18.000093076), (-7.244718, 16.45492))
            Line((-7.244718, 16.45492), (-7.954915, 15.06107))
            Line((-7.954915, 15.06107), (-9.061074, 13.95492))
            Line((-9.061074, 13.95492), (-10.45492, 13.24472))
            Line((-10.45492, 13.24472), (-12, 13))
            Line((-12, 13), (-16.0718, 13))
            Line((-16.0718, 13), (-16.27048, 13.04117))
            Line((-16.27048, 13.04117), (-16.43644, 13.1579))
            Line((-16.43644, 13.1579), (-18.19056, 14.60719))
            Line((-18.19056, 14.60719), (-20.2521, 15.57024))
            Line((-20.2521, 15.57024), (-22.48927, 15.9855))
            Line((-22.48927, 15.9855), (-24.7591, 15.82641))
            Line((-24.7591, 15.82641), (-26.91648, 15.10316))
            Line((-26.91648, 15.10316), (-28.82353, 13.86196))
            Line((-28.82353, 13.86196), (-28.95374, 13.69078))
            Line((-28.95374, 13.69078), (-29, 13.48074))
            Line((-29, 13.48074), (-29, 8.25))
            Line((-29, 8.25), (-28.875, 8.216506))
            Line((-28.875, 8.216506), (-28.78349, 8.125))
            Line((-28.78349, 8.125), (-28.75, 8))
            Line((-28.75, 8), (-28.78349, 7.875001))
            Line((-28.78349, 7.875001), (-28.875, 7.783493))
            Line((-28.875, 7.783493), (-29, 7.750001))
            Line((-29, 7.750001), (-29.125, 7.783493))
            Line((-29.125, 7.783493), (-29.21651, 7.875001))
            Line((-29.21651, 7.875001), (-29.25, 8))
            Line((-29.25, 8), (-33.75, 8))
            Line((-33.75, 8), (-33.7835, 7.875001))
            Line((-33.7835, 7.875001), (-33.875, 7.783493))
            Line((-33.875, 7.783493), (-34, 7.750001))
            Line((-34, 7.750001), (-34.125, 7.783493))
            Line((-34.125, 7.783493), (-34.21651, 7.875001))
            Line((-34.21651, 7.875001), (-34.25, 8))
            Line((-34.25, 8), (-34.21651, 8.125))
            Line((-34.21651, 8.125), (-34.125, 8.216506))
            Line((-34.125, 8.216506), (-34, 8.25))
            Line((-34, 8.25), (-34, 43.90222))
            Line((-34, 43.90222), (-33.81641, 44.73928))
            Line((-33.81641, 44.73928), (-33.29933, 45.42266))
            Line((-33.29933, 45.42266), (-32.54371, 45.8269))
            Line((-32.54371, 45.8269), (-31.68826, 45.87778))
            Line((-31.68826, 45.87778), (-29.69555, 45.34813))
            Line((-29.69555, 45.34813), (-27.85382, 44.42105))
        make_face(mode=Mode.SUBTRACT)
    extrude(amount=-BOSS_EXTRU_1_DEPTH)


solid = part.part
